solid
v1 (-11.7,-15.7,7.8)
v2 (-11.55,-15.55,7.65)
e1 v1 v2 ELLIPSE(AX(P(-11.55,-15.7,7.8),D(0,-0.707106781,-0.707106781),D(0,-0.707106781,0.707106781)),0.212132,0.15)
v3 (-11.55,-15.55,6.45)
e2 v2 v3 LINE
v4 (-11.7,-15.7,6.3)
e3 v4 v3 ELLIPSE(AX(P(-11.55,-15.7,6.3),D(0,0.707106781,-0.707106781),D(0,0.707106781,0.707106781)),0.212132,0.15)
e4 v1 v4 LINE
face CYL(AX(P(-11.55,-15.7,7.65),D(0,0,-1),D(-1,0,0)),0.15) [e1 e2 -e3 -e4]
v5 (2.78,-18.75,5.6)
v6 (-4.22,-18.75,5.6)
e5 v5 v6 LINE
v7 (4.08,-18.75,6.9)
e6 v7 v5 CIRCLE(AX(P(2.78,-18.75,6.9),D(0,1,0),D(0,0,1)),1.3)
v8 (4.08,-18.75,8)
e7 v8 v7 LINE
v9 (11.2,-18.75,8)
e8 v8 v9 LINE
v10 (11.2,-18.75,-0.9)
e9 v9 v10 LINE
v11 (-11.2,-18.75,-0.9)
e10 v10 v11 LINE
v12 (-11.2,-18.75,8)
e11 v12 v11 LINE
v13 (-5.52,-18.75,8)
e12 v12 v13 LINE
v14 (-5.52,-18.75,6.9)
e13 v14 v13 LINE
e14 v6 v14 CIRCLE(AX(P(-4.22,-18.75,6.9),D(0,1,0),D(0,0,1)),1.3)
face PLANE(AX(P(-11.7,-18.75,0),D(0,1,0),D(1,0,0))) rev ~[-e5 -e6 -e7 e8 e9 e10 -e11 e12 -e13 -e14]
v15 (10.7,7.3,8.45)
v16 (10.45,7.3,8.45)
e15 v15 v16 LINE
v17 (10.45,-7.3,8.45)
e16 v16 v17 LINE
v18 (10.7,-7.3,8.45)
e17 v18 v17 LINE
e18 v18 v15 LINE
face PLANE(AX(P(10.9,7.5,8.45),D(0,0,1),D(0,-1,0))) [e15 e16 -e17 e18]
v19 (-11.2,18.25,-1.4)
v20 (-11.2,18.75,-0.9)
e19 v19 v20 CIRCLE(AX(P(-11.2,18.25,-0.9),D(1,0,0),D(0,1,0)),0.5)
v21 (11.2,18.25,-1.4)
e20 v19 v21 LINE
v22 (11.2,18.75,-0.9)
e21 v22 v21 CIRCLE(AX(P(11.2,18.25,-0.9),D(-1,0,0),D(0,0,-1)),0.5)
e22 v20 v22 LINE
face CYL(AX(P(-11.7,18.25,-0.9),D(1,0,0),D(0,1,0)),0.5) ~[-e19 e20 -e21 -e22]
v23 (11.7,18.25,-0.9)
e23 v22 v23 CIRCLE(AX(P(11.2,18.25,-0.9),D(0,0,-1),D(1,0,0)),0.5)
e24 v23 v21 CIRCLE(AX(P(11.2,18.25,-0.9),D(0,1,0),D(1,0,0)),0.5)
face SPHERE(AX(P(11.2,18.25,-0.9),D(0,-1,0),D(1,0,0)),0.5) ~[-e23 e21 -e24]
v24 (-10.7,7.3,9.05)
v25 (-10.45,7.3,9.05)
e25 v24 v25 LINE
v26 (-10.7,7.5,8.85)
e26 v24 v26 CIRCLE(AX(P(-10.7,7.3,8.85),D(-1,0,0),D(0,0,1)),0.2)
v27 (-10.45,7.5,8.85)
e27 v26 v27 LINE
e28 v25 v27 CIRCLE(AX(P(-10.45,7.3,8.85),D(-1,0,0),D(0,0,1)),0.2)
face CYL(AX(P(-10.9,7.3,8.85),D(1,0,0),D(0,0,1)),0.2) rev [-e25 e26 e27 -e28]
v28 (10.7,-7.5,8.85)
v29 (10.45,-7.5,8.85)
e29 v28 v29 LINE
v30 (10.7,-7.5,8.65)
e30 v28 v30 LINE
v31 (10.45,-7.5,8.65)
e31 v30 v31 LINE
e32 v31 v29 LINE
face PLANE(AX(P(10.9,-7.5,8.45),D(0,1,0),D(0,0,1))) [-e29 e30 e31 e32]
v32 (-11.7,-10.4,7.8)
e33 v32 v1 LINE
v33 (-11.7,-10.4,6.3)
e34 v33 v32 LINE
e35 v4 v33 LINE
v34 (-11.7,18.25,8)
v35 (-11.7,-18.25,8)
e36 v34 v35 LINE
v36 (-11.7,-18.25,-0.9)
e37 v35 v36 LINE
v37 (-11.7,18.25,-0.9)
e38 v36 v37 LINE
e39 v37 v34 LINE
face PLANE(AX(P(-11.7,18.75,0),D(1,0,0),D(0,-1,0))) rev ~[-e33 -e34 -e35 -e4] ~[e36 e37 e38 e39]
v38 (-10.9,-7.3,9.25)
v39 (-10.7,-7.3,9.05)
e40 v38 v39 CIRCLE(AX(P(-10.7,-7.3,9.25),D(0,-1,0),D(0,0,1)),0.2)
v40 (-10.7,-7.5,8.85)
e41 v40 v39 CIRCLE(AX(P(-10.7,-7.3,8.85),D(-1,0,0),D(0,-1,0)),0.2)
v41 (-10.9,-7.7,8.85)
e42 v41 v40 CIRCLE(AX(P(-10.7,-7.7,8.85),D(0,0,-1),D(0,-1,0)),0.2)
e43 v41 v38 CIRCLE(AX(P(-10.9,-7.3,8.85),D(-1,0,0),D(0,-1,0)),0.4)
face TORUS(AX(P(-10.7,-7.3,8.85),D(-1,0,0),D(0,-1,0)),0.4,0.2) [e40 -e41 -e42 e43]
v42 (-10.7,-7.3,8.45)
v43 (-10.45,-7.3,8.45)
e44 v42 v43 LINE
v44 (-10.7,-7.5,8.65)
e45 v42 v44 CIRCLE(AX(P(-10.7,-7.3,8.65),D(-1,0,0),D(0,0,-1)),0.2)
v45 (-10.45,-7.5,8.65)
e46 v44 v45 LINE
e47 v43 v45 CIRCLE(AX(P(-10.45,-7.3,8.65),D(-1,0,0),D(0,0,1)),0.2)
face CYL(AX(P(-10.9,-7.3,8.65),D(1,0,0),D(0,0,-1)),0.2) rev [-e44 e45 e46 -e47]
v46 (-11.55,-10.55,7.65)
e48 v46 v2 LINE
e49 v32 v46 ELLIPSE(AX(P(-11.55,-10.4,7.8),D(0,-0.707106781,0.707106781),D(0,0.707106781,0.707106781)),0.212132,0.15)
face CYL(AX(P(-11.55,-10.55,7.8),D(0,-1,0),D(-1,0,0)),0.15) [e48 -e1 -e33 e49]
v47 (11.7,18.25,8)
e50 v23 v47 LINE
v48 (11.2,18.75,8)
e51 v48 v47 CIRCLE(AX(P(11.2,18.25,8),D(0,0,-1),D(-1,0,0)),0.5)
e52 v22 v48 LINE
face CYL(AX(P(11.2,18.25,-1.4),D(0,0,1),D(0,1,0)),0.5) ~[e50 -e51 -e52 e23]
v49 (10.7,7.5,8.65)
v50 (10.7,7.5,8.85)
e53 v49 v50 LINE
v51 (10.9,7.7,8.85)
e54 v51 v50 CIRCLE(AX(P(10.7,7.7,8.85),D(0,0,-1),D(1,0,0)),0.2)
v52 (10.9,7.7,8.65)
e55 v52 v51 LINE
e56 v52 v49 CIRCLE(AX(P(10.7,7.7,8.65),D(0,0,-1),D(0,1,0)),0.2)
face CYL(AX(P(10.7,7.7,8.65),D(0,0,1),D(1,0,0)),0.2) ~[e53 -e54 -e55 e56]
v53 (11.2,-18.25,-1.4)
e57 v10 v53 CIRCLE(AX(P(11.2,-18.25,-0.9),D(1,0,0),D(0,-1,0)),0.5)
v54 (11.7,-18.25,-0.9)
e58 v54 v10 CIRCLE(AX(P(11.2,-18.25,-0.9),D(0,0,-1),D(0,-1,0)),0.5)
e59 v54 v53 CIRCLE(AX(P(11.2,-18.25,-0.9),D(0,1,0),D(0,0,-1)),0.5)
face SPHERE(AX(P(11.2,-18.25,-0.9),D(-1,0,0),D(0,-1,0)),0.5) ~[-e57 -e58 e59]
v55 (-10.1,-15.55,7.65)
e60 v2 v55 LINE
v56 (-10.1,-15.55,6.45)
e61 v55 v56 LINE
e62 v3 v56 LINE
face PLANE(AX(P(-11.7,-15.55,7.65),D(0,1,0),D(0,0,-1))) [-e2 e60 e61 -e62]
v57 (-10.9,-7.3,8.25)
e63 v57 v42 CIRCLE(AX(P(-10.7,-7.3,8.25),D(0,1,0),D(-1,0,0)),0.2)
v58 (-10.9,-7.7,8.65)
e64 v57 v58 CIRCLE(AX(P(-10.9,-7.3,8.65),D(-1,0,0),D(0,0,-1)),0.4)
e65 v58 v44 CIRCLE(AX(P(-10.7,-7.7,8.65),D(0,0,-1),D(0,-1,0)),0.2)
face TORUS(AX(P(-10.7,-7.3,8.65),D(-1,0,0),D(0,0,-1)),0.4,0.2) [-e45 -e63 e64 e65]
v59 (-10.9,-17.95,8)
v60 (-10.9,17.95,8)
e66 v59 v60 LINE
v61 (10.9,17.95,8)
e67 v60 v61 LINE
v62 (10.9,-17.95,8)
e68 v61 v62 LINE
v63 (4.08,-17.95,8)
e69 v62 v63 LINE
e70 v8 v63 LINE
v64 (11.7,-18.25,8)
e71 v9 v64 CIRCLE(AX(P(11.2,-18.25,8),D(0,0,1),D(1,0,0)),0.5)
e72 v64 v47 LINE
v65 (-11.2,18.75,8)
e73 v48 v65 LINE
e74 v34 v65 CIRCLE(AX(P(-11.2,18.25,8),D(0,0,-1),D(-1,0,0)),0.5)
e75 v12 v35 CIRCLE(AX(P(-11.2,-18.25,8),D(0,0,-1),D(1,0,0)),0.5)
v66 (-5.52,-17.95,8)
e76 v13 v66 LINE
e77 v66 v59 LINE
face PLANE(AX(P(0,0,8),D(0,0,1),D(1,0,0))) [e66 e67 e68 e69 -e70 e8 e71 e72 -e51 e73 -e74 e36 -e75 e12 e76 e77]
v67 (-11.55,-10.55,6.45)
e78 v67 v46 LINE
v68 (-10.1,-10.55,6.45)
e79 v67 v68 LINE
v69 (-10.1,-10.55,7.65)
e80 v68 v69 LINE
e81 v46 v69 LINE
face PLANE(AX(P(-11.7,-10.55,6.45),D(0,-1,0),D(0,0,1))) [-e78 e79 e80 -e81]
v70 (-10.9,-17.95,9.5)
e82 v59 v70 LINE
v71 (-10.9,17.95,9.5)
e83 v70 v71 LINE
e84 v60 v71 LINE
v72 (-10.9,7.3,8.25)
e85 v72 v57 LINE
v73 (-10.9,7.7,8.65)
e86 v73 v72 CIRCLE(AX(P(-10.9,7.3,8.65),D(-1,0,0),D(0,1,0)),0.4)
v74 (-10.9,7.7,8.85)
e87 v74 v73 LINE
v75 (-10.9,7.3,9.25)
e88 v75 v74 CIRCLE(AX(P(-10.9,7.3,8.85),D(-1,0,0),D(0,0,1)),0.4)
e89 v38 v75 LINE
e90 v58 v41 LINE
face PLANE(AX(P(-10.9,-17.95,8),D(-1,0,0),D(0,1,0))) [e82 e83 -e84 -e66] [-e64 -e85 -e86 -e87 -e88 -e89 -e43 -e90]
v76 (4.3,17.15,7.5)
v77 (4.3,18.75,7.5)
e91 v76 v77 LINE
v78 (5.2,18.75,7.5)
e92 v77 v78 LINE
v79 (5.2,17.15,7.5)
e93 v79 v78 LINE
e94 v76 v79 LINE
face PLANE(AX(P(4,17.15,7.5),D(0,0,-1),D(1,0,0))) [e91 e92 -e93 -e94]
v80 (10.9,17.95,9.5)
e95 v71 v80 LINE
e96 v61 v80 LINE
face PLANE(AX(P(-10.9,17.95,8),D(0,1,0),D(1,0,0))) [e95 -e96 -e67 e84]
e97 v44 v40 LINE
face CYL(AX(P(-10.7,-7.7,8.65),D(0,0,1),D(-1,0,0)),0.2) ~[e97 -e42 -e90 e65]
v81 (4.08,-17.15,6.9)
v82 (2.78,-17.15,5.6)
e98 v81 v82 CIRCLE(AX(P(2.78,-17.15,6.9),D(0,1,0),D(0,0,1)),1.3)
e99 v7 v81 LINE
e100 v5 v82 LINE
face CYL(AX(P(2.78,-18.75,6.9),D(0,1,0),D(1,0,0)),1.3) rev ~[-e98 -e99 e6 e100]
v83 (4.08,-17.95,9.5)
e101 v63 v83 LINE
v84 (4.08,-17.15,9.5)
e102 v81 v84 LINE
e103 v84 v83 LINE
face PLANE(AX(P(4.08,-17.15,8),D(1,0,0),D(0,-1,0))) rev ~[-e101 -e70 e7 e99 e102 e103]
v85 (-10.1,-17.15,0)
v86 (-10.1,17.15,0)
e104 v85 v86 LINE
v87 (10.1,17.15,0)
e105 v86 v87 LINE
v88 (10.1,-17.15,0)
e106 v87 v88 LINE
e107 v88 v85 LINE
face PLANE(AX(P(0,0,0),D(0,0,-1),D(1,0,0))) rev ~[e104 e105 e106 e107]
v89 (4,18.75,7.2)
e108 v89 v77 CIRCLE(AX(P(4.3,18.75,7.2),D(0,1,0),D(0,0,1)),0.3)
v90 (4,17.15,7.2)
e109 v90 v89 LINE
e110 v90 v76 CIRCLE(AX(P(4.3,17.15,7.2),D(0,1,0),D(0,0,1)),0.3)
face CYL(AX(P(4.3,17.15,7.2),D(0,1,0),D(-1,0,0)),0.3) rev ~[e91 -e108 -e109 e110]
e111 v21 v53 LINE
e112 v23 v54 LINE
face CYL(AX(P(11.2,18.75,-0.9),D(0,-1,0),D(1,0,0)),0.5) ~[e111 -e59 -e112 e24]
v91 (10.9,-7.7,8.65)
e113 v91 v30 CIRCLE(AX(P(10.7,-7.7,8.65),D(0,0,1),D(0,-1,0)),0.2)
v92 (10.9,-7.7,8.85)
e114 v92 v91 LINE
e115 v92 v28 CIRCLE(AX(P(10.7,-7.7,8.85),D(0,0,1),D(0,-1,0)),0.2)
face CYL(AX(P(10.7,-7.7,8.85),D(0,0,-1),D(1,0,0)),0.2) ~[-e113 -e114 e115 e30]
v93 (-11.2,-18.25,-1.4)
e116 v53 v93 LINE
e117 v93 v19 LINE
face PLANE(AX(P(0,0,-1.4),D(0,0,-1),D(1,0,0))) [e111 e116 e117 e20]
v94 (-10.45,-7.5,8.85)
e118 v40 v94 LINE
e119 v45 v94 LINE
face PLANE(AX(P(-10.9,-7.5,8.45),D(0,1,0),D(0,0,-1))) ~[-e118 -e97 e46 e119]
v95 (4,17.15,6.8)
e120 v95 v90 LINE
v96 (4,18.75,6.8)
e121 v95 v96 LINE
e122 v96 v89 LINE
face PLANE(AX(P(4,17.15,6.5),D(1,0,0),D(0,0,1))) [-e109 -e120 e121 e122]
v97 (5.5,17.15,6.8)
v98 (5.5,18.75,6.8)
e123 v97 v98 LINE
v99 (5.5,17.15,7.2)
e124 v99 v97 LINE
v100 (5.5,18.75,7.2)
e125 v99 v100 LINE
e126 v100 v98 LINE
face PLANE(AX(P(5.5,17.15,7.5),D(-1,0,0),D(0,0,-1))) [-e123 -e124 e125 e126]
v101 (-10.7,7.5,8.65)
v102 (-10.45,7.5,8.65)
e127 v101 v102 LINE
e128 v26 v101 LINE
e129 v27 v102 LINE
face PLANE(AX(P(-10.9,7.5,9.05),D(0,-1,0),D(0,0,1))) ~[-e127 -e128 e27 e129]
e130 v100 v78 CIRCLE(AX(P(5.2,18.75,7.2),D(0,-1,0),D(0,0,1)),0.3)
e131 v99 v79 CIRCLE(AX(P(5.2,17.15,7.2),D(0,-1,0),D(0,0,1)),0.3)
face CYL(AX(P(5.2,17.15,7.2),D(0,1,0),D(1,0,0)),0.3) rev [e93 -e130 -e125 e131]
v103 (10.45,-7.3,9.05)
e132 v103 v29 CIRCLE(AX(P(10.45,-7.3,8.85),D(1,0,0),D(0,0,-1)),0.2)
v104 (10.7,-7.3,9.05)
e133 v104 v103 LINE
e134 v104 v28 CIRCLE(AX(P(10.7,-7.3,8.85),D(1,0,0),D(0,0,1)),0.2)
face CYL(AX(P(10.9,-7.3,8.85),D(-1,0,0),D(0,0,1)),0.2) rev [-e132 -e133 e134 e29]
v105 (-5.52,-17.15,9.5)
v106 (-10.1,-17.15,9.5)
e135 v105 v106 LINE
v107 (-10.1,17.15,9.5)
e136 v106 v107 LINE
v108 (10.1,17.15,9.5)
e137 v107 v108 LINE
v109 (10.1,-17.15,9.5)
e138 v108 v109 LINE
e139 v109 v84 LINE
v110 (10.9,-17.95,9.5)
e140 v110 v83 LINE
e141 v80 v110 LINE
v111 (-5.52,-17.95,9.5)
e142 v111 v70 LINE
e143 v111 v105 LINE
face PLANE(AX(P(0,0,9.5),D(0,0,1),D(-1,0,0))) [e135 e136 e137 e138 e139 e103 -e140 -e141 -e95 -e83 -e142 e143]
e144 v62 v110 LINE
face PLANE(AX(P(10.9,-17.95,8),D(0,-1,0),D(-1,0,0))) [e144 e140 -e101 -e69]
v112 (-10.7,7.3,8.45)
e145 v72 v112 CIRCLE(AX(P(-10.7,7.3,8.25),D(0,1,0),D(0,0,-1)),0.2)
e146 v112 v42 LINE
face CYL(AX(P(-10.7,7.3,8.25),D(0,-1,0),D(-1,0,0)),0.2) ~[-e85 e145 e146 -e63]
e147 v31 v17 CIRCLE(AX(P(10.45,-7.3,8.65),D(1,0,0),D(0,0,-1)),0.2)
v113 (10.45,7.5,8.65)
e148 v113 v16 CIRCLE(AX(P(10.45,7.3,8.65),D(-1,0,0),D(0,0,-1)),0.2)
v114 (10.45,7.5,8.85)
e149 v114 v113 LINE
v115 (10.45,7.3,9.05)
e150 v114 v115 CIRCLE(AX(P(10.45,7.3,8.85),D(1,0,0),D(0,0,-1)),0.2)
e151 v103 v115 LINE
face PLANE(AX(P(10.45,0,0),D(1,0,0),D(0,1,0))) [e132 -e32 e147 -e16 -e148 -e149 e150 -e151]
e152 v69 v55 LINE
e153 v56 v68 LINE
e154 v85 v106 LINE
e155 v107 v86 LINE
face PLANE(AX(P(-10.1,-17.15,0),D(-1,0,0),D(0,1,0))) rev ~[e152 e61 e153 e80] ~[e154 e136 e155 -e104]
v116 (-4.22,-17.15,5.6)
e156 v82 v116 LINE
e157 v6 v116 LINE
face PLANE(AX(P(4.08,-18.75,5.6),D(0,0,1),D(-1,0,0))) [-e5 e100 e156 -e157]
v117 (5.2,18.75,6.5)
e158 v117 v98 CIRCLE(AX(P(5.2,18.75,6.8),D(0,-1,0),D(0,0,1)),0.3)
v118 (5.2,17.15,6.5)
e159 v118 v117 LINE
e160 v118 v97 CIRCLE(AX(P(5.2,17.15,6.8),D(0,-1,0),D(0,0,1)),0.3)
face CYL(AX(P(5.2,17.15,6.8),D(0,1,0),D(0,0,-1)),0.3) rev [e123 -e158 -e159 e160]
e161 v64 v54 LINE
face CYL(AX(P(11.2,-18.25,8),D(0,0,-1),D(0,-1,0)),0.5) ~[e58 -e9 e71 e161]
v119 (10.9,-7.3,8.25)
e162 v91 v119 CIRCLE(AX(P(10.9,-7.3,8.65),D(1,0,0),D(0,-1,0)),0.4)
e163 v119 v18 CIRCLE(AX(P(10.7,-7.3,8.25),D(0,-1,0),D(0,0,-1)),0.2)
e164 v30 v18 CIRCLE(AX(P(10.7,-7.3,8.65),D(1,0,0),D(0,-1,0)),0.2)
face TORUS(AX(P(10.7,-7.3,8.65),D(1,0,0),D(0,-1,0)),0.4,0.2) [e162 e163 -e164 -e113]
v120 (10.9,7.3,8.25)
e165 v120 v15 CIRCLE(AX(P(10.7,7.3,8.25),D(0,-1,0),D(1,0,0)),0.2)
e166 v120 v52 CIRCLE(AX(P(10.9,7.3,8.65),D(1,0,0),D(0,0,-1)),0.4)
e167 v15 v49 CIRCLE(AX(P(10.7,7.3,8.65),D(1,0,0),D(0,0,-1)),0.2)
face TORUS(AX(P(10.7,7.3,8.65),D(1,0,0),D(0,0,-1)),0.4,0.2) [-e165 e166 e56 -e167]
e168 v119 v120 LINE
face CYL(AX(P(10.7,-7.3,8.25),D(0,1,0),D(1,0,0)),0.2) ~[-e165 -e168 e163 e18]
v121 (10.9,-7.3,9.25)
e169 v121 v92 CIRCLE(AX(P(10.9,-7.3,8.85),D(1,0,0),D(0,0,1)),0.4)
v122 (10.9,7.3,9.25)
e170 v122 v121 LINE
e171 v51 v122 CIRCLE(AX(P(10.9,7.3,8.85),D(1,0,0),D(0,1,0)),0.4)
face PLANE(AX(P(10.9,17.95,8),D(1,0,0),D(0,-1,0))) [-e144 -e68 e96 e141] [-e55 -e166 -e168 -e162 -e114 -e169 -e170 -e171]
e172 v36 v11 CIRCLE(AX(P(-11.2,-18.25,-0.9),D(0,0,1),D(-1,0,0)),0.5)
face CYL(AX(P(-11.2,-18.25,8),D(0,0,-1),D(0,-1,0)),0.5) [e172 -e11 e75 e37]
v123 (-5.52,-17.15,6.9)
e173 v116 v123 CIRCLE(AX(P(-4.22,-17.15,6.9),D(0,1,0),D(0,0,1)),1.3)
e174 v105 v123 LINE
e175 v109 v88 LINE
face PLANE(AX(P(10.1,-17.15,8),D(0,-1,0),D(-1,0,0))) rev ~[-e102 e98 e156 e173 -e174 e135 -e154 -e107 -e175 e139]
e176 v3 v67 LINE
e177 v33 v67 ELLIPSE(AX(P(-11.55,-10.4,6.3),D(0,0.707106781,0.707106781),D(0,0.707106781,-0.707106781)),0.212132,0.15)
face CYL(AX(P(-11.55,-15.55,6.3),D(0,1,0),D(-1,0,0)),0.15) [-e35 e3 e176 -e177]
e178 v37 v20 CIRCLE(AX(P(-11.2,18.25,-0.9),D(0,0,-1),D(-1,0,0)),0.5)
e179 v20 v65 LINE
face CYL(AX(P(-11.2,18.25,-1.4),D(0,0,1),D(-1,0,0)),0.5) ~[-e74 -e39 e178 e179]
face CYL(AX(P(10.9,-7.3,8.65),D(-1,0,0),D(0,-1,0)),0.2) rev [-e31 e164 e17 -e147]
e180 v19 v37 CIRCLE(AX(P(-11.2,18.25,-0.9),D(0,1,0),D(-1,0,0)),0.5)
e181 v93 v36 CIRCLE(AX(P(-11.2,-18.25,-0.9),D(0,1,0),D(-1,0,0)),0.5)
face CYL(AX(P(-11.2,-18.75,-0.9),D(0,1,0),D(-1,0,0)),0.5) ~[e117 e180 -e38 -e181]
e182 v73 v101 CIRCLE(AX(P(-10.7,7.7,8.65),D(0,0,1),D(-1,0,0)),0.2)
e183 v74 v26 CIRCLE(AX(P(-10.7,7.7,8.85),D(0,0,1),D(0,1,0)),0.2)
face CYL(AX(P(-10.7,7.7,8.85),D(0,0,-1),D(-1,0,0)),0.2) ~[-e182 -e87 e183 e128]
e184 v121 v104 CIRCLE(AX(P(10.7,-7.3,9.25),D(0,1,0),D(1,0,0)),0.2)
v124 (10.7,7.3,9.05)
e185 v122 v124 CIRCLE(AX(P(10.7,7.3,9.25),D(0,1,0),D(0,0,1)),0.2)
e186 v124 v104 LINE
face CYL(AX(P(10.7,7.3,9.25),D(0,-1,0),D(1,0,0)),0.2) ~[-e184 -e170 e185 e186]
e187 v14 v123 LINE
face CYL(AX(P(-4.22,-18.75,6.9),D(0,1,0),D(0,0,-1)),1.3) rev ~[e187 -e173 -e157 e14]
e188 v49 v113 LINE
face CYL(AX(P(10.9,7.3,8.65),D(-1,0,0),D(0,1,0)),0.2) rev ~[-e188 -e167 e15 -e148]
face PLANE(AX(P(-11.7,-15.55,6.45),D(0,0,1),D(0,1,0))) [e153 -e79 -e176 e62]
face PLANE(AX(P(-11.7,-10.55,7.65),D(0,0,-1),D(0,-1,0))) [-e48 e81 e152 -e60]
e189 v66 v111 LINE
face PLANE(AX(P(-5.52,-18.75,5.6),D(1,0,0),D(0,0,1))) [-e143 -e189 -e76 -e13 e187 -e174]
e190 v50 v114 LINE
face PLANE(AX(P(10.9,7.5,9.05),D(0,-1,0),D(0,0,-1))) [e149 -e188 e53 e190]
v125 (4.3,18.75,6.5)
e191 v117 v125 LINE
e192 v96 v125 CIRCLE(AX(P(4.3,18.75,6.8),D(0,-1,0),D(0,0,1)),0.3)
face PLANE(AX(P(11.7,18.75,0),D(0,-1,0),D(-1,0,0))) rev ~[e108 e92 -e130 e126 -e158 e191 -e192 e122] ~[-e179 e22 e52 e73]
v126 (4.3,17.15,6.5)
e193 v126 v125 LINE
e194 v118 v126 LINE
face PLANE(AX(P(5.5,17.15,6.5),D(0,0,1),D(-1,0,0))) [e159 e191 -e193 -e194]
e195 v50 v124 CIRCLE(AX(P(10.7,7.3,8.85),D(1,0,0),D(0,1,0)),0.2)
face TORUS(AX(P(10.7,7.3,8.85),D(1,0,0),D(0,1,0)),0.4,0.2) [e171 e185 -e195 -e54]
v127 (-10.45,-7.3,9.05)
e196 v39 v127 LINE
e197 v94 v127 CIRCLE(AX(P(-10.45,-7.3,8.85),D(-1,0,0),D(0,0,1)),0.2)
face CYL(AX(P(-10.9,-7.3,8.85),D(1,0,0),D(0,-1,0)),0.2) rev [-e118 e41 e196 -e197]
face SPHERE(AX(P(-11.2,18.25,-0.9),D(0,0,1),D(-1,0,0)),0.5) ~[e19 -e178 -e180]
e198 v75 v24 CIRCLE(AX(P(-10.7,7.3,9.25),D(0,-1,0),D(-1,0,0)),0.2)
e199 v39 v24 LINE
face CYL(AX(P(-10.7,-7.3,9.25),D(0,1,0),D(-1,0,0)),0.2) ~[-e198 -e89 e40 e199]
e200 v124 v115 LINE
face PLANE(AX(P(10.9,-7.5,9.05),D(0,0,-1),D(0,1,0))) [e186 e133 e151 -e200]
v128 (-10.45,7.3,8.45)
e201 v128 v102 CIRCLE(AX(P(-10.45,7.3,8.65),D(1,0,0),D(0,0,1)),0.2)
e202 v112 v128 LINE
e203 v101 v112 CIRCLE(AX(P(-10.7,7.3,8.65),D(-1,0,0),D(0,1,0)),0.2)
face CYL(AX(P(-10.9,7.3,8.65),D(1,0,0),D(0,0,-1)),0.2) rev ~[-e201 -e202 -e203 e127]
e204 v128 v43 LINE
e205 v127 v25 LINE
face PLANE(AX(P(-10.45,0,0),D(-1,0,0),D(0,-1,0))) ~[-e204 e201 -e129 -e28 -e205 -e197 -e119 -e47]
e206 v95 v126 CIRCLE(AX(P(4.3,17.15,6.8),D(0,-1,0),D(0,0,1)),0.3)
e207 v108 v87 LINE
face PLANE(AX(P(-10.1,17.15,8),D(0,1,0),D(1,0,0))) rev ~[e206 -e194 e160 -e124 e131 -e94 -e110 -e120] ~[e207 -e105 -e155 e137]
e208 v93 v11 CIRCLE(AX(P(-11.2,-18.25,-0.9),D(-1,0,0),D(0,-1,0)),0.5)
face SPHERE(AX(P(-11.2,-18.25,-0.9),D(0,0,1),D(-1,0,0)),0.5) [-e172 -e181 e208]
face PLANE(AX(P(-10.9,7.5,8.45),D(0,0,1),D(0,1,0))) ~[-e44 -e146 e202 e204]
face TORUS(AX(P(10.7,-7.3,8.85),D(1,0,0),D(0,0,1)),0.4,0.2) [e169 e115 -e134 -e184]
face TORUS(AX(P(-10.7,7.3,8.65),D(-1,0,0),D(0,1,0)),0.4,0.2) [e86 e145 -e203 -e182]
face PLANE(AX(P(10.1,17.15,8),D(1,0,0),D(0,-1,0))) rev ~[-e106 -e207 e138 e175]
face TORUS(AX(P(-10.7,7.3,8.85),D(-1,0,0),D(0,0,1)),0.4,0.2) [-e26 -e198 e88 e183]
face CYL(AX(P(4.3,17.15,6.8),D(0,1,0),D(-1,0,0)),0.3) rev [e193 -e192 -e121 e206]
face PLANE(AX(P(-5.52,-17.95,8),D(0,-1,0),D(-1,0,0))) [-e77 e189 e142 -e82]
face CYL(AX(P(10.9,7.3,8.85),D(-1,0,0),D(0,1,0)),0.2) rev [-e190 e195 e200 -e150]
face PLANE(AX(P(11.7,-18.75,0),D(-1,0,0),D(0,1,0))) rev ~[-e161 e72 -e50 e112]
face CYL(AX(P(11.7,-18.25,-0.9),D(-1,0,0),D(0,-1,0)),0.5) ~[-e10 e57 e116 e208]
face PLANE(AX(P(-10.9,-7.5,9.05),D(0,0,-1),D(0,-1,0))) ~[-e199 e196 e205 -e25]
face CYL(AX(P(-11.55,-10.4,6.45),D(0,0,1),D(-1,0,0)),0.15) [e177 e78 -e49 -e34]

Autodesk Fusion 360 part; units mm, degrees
sketch "Sketch1" plane through (0, 0, 0) normal (0, 0, 1) x (1, 0, 0)
  line L0 (10.1, -17.15) -> (-10.1, -17.15)
  line L1 (-10.1, -17.15) -> (-10.1, 17.15)
  line L2 (-10.1, 17.15) -> (10.1, 17.15)
  line L3 (10.1, 17.15) -> (10.1, -17.15)
  line L4 (10.1, -17.15) -> (-10.1, 17.15) construction
  line L5 (-10.1, -17.15) -> (10.1, 17.15) construction
  line L6 (11.7, 18.75) -> (-11.7, 18.75)
  line L7 (-11.7, 18.75) -> (-11.7, -18.75)
  line L8 (-11.7, -18.75) -> (11.7, -18.75)
  line L9 (11.7, -18.75) -> (11.7, 18.75)
  line L10 (11.7, 18.75) -> (-11.7, -18.75) construction
  line L11 (-11.7, 18.75) -> (11.7, -18.75) construction
  dimension "d1" = 20.2
  dimension "d2" = 34.3
  dimension "d4" = 1.6
  dimension "d5" = 1.6
extrude "Extrude1" add sketch "Sketch1" along normal blind 8
sketch "Sketch2" plane through (0, 0, 0) normal (0, 0, -1) x (1, 0, 0)
  line L0 (10.1, -17.15) -> (-10.1, -17.15)
  line L1 (-10.1, -17.15) -> (-10.1, 17.15)
  line L2 (-10.1, 17.15) -> (10.1, 17.15)
  line L3 (10.1, 17.15) -> (10.1, -17.15)
  line L4 (11.7, -18.75) -> (11.7, 18.75)
  line L5 (11.7, 18.75) -> (-11.7, 18.75)
  line L6 (-11.7, 18.75) -> (-11.7, -18.75)
  line L7 (-11.7, -18.75) -> (11.7, -18.75)
  line L8 (-11.7, 18.75) -> (11.7, 18.75)
  line L9 (11.7, 18.75) -> (11.7, -18.75)
  line L10 (11.7, -18.75) -> (-11.7, -18.75)
  line L11 (-11.7, -18.75) -> (-11.7, 18.75)
extrude "Extrude2" add sketch "Sketch2" along normal blind 1.4 contours L0 L1 L2 L3 | L4 L5 L6 L7 L8 L9 L10 L11
sketch "Sketch3" plane through (0, -18.75, 0) normal (0, -1, 0) x (1, 0, 0)
  line L0 (11.7, -1.4) -> (11.7, 8)
  line L1 (11.7, 8) -> (-11.7, 8)
  line L2 (-11.7, 8) -> (-11.7, -1.4)
  line L3 (-11.7, -1.4) -> (11.7, -1.4)
  line L4 (-5.52, 8) -> (4.08, 8)
  line L5 (4.08, 8) -> (4.08, 5.6)
  line L6 (4.08, 5.6) -> (-5.52, 5.6)
  line L7 (-5.52, 5.6) -> (-5.52, 8)
  dimension "d10" = 7
  dimension "d11" = 6.18
  dimension "d14" = 9.6
extrude "Extrude3" cut sketch "Sketch3" against normal up to surface (1.6 mm away) contours L1 L4 L5 L6 L7
fillet "Fillet1" radius 1.3 2 edges at (-5.52, -17.95, 5.6) (4.08, -17.95, 5.6)
sketch "Sketch4" plane through (-11.7, 0, 0) normal (-1, 0, 0) x (0, -1, 0)
  line L0 (18.75, -1.4) -> (18.75, 8)
  line L1 (18.75, 8) -> (-18.75, 8)
  line L2 (-18.75, 8) -> (-18.75, -1.4)
  line L3 (-18.75, -1.4) -> (18.75, -1.4)
  line L4 (10.55, 7.65) -> (15.55, 7.65)
  line L5 (15.55, 7.65) -> (15.55, 6.45)
  line L6 (15.55, 6.45) -> (10.55, 6.45)
  line L7 (10.55, 6.45) -> (10.55, 7.65)
  dimension "d17" = 3.2
  dimension "d18" = 5
  dimension "d19" = 1.2
  dimension "d22" = 0.35
extrude "Extrude4" cut sketch "Sketch4" against normal up to surface (1.6 mm away) contours L4 L5 L6 L7
fillet "Fillet2" radius 0.15 4 edges at (-11.7, -13.05, 6.45) (-11.7, -10.55, 7.05) (-11.7, -13.05, 7.65) (-11.7, -15.55, 7.05)
sketch "Sketch5" plane through (0, 0, 8) normal (0, 0, 1) x (-1, 0, 0)
  line L0 (-4.08, 17.15) -> (-4.08, 18.75)
  line L1 (-4.08, 18.75) -> (-11.7, 18.75)
  line L2 (-11.7, 18.75) -> (-11.7, -18.75)
  line L3 (-11.7, -18.75) -> (11.7, -18.75)
  line L4 (11.7, -18.75) -> (11.7, 18.75)
  line L5 (11.7, 18.75) -> (5.52, 18.75)
  line L6 (5.52, 18.75) -> (5.52, 17.15)
  line L7 (5.52, 17.15) -> (10.1, 17.15)
  line L8 (10.1, 17.15) -> (10.1, -17.15)
  line L9 (10.1, -17.15) -> (-10.1, -17.15)
  line L10 (-10.1, -17.15) -> (-10.1, 17.15)
  line L11 (-10.1, 17.15) -> (-4.08, 17.15)
  line L12 (10.9, -17.95) -> (-10.9, -17.95)
  line L13 (-10.9, -17.95) -> (-10.9, 17.95)
  line L14 (-10.9, 17.95) -> (10.9, 17.95)
  line L15 (10.9, 17.95) -> (10.9, -17.95)
  dimension "d26" = 0.8
  dimension "d27" = 0.8
  dimension "d28" = 0.8
  dimension "d29" = 0.8
extrude "Extrude5" add sketch "Sketch5" along normal blind 1.5 contours L0 L6 L7 L8 L9 L10 L11 L12 L13 L14 L15
sketch "Sketch7" plane through (10.9, 0, 0) normal (1, 0, 0) x (0, 1, 0)
  line L0 (-17.95, 8) -> (17.95, 8)
  line L1 (17.95, 8) -> (17.95, 9.5)
  line L2 (17.95, 9.5) -> (-17.95, 9.5)
  line L3 (-17.95, 9.5) -> (-17.95, 8)
  line L4 (-17.95, 9.5) -> (17.95, 8) construction
  line L5 (17.95, 9.5) -> (-17.95, 8) construction
  line L6 (0, 8.75) -> (-14.5, 8.75) construction
  line L7 (7.5, 8.45) -> (-7.5, 8.45)
  line L8 (-7.5, 8.45) -> (-7.5, 9.05)
  line L9 (-7.5, 9.05) -> (7.5, 9.05)
  line L10 (7.5, 9.05) -> (7.5, 8.45)
  line L11 (7.5, 8.45) -> (-7.5, 9.05) construction
  line L12 (-7.5, 8.45) -> (7.5, 9.05) construction
  point P0 (0, 8.75)
  dimension "d32" = 15
  dimension "d33" = 0.6
ref_plane "WorkPlane1" through (0, 0, 8.75) normal (1, 0, 0) x (0, 1, 0)
extrude "Extrude6" cut sketch "Sketch7" against normal blind 0.45 contours L7 L8 L9 L10
fillet "Fillet5" radius 0.2 4 edges at (10.675, -7.5, 8.45) (10.675, -7.5, 9.05) (10.675, 7.5, 8.45) (10.675, 7.5, 9.05)
fillet "Fillet6" radius 0.2 8 edges at (10.9, -7.4414, 8.5086) (10.9, 0, 8.45) (10.9, 7.4414, 8.5086) (10.9, 7.5, 8.75) (10.9, 7.4414, 8.9914) (10.9, 0, 9.05) (10.9, -7.4414, 8.9914) (10.9, -7.5, 8.75)
mirror "Mirror2" about plane through (0, 0, 8.75) normal (1, 0, 0) of "Extrude6"
fillet "Fillet7" radius 0.2 4 edges at (-10.675, 7.5, 8.45) (-10.675, 7.5, 9.05) (-10.675, -7.5, 8.45) (-10.675, -7.5, 9.05)
fillet "Fillet8" radius 0.2 8 edges at (-10.9, -7.4414, 8.9914) (-10.9, -7.5, 8.75) (-10.9, -7.4414, 8.5086) (-10.9, 0, 8.45) (-10.9, 7.4414, 8.5086) (-10.9, 7.5, 8.75) (-10.9, 7.4414, 8.9914) (-10.9, 0, 9.05)
fillet "Fillet9" radius 0.5 8 edges at (-11.7, 18.75, 3.3) (-11.7, -18.75, 3.3) (-11.7, 0, -1.4) (0, -18.75, -1.4) (11.7, -18.75, 3.3) (11.7, 0, -1.4) (11.7, 18.75, 3.3) (0, 18.75, -1.4)
sketch "Sketch8" plane through (0, 17.15, 0) normal (0, -1, 0) x (1, 0, 0)
  line L0 (-10.1, 0) -> (10.1, 0)
  line L1 (10.1, 0) -> (10.1, 9.5)
  line L2 (10.1, 9.5) -> (-10.1, 9.5)
  line L3 (-10.1, 9.5) -> (-10.1, 0)
  line L4 (4, 7.5) -> (5.5, 7.5)
  line L5 (5.5, 7.5) -> (5.5, 6.5)
  line L6 (5.5, 6.5) -> (4, 6.5)
  line L7 (4, 6.5) -> (4, 7.5)
  dimension "d55" = 4.6
  dimension "d56" = 1
  dimension "d57" = 1.5
  dimension "d58" = 2
extrude "Extrude7" cut sketch "Sketch8" against normal up to surface (1.6 mm away) contours L4 L5 L6 L7
fillet "Fillet10" radius 0.3 4 edges at (5.5, 17.95, 6.5) (5.5, 17.95, 7.5) (4, 17.95, 7.5) (4, 17.95, 6.5)
equation "case_thickness = 1.6 mm"
equation "d4 = case_thickness"
equation "d5 = case_thickness"
equation "d8 = case_thickness - 0.2 mm"
equation "d11 = 4.58 mm + case_thickness"
equation "lock_rim = 0.8 mm"
equation "d26 = lock_rim"
equation "d27 = lock_rim"
equation "d28 = lock_rim"
equation "d29 = lock_rim"
equation "d43 = clip_roundness"
equation "d45 = clip_roundness"
equation "clip_roundness = 0.2 mm"
equation "d50 = clip_roundness"
equation "d52 = clip_roundness"
